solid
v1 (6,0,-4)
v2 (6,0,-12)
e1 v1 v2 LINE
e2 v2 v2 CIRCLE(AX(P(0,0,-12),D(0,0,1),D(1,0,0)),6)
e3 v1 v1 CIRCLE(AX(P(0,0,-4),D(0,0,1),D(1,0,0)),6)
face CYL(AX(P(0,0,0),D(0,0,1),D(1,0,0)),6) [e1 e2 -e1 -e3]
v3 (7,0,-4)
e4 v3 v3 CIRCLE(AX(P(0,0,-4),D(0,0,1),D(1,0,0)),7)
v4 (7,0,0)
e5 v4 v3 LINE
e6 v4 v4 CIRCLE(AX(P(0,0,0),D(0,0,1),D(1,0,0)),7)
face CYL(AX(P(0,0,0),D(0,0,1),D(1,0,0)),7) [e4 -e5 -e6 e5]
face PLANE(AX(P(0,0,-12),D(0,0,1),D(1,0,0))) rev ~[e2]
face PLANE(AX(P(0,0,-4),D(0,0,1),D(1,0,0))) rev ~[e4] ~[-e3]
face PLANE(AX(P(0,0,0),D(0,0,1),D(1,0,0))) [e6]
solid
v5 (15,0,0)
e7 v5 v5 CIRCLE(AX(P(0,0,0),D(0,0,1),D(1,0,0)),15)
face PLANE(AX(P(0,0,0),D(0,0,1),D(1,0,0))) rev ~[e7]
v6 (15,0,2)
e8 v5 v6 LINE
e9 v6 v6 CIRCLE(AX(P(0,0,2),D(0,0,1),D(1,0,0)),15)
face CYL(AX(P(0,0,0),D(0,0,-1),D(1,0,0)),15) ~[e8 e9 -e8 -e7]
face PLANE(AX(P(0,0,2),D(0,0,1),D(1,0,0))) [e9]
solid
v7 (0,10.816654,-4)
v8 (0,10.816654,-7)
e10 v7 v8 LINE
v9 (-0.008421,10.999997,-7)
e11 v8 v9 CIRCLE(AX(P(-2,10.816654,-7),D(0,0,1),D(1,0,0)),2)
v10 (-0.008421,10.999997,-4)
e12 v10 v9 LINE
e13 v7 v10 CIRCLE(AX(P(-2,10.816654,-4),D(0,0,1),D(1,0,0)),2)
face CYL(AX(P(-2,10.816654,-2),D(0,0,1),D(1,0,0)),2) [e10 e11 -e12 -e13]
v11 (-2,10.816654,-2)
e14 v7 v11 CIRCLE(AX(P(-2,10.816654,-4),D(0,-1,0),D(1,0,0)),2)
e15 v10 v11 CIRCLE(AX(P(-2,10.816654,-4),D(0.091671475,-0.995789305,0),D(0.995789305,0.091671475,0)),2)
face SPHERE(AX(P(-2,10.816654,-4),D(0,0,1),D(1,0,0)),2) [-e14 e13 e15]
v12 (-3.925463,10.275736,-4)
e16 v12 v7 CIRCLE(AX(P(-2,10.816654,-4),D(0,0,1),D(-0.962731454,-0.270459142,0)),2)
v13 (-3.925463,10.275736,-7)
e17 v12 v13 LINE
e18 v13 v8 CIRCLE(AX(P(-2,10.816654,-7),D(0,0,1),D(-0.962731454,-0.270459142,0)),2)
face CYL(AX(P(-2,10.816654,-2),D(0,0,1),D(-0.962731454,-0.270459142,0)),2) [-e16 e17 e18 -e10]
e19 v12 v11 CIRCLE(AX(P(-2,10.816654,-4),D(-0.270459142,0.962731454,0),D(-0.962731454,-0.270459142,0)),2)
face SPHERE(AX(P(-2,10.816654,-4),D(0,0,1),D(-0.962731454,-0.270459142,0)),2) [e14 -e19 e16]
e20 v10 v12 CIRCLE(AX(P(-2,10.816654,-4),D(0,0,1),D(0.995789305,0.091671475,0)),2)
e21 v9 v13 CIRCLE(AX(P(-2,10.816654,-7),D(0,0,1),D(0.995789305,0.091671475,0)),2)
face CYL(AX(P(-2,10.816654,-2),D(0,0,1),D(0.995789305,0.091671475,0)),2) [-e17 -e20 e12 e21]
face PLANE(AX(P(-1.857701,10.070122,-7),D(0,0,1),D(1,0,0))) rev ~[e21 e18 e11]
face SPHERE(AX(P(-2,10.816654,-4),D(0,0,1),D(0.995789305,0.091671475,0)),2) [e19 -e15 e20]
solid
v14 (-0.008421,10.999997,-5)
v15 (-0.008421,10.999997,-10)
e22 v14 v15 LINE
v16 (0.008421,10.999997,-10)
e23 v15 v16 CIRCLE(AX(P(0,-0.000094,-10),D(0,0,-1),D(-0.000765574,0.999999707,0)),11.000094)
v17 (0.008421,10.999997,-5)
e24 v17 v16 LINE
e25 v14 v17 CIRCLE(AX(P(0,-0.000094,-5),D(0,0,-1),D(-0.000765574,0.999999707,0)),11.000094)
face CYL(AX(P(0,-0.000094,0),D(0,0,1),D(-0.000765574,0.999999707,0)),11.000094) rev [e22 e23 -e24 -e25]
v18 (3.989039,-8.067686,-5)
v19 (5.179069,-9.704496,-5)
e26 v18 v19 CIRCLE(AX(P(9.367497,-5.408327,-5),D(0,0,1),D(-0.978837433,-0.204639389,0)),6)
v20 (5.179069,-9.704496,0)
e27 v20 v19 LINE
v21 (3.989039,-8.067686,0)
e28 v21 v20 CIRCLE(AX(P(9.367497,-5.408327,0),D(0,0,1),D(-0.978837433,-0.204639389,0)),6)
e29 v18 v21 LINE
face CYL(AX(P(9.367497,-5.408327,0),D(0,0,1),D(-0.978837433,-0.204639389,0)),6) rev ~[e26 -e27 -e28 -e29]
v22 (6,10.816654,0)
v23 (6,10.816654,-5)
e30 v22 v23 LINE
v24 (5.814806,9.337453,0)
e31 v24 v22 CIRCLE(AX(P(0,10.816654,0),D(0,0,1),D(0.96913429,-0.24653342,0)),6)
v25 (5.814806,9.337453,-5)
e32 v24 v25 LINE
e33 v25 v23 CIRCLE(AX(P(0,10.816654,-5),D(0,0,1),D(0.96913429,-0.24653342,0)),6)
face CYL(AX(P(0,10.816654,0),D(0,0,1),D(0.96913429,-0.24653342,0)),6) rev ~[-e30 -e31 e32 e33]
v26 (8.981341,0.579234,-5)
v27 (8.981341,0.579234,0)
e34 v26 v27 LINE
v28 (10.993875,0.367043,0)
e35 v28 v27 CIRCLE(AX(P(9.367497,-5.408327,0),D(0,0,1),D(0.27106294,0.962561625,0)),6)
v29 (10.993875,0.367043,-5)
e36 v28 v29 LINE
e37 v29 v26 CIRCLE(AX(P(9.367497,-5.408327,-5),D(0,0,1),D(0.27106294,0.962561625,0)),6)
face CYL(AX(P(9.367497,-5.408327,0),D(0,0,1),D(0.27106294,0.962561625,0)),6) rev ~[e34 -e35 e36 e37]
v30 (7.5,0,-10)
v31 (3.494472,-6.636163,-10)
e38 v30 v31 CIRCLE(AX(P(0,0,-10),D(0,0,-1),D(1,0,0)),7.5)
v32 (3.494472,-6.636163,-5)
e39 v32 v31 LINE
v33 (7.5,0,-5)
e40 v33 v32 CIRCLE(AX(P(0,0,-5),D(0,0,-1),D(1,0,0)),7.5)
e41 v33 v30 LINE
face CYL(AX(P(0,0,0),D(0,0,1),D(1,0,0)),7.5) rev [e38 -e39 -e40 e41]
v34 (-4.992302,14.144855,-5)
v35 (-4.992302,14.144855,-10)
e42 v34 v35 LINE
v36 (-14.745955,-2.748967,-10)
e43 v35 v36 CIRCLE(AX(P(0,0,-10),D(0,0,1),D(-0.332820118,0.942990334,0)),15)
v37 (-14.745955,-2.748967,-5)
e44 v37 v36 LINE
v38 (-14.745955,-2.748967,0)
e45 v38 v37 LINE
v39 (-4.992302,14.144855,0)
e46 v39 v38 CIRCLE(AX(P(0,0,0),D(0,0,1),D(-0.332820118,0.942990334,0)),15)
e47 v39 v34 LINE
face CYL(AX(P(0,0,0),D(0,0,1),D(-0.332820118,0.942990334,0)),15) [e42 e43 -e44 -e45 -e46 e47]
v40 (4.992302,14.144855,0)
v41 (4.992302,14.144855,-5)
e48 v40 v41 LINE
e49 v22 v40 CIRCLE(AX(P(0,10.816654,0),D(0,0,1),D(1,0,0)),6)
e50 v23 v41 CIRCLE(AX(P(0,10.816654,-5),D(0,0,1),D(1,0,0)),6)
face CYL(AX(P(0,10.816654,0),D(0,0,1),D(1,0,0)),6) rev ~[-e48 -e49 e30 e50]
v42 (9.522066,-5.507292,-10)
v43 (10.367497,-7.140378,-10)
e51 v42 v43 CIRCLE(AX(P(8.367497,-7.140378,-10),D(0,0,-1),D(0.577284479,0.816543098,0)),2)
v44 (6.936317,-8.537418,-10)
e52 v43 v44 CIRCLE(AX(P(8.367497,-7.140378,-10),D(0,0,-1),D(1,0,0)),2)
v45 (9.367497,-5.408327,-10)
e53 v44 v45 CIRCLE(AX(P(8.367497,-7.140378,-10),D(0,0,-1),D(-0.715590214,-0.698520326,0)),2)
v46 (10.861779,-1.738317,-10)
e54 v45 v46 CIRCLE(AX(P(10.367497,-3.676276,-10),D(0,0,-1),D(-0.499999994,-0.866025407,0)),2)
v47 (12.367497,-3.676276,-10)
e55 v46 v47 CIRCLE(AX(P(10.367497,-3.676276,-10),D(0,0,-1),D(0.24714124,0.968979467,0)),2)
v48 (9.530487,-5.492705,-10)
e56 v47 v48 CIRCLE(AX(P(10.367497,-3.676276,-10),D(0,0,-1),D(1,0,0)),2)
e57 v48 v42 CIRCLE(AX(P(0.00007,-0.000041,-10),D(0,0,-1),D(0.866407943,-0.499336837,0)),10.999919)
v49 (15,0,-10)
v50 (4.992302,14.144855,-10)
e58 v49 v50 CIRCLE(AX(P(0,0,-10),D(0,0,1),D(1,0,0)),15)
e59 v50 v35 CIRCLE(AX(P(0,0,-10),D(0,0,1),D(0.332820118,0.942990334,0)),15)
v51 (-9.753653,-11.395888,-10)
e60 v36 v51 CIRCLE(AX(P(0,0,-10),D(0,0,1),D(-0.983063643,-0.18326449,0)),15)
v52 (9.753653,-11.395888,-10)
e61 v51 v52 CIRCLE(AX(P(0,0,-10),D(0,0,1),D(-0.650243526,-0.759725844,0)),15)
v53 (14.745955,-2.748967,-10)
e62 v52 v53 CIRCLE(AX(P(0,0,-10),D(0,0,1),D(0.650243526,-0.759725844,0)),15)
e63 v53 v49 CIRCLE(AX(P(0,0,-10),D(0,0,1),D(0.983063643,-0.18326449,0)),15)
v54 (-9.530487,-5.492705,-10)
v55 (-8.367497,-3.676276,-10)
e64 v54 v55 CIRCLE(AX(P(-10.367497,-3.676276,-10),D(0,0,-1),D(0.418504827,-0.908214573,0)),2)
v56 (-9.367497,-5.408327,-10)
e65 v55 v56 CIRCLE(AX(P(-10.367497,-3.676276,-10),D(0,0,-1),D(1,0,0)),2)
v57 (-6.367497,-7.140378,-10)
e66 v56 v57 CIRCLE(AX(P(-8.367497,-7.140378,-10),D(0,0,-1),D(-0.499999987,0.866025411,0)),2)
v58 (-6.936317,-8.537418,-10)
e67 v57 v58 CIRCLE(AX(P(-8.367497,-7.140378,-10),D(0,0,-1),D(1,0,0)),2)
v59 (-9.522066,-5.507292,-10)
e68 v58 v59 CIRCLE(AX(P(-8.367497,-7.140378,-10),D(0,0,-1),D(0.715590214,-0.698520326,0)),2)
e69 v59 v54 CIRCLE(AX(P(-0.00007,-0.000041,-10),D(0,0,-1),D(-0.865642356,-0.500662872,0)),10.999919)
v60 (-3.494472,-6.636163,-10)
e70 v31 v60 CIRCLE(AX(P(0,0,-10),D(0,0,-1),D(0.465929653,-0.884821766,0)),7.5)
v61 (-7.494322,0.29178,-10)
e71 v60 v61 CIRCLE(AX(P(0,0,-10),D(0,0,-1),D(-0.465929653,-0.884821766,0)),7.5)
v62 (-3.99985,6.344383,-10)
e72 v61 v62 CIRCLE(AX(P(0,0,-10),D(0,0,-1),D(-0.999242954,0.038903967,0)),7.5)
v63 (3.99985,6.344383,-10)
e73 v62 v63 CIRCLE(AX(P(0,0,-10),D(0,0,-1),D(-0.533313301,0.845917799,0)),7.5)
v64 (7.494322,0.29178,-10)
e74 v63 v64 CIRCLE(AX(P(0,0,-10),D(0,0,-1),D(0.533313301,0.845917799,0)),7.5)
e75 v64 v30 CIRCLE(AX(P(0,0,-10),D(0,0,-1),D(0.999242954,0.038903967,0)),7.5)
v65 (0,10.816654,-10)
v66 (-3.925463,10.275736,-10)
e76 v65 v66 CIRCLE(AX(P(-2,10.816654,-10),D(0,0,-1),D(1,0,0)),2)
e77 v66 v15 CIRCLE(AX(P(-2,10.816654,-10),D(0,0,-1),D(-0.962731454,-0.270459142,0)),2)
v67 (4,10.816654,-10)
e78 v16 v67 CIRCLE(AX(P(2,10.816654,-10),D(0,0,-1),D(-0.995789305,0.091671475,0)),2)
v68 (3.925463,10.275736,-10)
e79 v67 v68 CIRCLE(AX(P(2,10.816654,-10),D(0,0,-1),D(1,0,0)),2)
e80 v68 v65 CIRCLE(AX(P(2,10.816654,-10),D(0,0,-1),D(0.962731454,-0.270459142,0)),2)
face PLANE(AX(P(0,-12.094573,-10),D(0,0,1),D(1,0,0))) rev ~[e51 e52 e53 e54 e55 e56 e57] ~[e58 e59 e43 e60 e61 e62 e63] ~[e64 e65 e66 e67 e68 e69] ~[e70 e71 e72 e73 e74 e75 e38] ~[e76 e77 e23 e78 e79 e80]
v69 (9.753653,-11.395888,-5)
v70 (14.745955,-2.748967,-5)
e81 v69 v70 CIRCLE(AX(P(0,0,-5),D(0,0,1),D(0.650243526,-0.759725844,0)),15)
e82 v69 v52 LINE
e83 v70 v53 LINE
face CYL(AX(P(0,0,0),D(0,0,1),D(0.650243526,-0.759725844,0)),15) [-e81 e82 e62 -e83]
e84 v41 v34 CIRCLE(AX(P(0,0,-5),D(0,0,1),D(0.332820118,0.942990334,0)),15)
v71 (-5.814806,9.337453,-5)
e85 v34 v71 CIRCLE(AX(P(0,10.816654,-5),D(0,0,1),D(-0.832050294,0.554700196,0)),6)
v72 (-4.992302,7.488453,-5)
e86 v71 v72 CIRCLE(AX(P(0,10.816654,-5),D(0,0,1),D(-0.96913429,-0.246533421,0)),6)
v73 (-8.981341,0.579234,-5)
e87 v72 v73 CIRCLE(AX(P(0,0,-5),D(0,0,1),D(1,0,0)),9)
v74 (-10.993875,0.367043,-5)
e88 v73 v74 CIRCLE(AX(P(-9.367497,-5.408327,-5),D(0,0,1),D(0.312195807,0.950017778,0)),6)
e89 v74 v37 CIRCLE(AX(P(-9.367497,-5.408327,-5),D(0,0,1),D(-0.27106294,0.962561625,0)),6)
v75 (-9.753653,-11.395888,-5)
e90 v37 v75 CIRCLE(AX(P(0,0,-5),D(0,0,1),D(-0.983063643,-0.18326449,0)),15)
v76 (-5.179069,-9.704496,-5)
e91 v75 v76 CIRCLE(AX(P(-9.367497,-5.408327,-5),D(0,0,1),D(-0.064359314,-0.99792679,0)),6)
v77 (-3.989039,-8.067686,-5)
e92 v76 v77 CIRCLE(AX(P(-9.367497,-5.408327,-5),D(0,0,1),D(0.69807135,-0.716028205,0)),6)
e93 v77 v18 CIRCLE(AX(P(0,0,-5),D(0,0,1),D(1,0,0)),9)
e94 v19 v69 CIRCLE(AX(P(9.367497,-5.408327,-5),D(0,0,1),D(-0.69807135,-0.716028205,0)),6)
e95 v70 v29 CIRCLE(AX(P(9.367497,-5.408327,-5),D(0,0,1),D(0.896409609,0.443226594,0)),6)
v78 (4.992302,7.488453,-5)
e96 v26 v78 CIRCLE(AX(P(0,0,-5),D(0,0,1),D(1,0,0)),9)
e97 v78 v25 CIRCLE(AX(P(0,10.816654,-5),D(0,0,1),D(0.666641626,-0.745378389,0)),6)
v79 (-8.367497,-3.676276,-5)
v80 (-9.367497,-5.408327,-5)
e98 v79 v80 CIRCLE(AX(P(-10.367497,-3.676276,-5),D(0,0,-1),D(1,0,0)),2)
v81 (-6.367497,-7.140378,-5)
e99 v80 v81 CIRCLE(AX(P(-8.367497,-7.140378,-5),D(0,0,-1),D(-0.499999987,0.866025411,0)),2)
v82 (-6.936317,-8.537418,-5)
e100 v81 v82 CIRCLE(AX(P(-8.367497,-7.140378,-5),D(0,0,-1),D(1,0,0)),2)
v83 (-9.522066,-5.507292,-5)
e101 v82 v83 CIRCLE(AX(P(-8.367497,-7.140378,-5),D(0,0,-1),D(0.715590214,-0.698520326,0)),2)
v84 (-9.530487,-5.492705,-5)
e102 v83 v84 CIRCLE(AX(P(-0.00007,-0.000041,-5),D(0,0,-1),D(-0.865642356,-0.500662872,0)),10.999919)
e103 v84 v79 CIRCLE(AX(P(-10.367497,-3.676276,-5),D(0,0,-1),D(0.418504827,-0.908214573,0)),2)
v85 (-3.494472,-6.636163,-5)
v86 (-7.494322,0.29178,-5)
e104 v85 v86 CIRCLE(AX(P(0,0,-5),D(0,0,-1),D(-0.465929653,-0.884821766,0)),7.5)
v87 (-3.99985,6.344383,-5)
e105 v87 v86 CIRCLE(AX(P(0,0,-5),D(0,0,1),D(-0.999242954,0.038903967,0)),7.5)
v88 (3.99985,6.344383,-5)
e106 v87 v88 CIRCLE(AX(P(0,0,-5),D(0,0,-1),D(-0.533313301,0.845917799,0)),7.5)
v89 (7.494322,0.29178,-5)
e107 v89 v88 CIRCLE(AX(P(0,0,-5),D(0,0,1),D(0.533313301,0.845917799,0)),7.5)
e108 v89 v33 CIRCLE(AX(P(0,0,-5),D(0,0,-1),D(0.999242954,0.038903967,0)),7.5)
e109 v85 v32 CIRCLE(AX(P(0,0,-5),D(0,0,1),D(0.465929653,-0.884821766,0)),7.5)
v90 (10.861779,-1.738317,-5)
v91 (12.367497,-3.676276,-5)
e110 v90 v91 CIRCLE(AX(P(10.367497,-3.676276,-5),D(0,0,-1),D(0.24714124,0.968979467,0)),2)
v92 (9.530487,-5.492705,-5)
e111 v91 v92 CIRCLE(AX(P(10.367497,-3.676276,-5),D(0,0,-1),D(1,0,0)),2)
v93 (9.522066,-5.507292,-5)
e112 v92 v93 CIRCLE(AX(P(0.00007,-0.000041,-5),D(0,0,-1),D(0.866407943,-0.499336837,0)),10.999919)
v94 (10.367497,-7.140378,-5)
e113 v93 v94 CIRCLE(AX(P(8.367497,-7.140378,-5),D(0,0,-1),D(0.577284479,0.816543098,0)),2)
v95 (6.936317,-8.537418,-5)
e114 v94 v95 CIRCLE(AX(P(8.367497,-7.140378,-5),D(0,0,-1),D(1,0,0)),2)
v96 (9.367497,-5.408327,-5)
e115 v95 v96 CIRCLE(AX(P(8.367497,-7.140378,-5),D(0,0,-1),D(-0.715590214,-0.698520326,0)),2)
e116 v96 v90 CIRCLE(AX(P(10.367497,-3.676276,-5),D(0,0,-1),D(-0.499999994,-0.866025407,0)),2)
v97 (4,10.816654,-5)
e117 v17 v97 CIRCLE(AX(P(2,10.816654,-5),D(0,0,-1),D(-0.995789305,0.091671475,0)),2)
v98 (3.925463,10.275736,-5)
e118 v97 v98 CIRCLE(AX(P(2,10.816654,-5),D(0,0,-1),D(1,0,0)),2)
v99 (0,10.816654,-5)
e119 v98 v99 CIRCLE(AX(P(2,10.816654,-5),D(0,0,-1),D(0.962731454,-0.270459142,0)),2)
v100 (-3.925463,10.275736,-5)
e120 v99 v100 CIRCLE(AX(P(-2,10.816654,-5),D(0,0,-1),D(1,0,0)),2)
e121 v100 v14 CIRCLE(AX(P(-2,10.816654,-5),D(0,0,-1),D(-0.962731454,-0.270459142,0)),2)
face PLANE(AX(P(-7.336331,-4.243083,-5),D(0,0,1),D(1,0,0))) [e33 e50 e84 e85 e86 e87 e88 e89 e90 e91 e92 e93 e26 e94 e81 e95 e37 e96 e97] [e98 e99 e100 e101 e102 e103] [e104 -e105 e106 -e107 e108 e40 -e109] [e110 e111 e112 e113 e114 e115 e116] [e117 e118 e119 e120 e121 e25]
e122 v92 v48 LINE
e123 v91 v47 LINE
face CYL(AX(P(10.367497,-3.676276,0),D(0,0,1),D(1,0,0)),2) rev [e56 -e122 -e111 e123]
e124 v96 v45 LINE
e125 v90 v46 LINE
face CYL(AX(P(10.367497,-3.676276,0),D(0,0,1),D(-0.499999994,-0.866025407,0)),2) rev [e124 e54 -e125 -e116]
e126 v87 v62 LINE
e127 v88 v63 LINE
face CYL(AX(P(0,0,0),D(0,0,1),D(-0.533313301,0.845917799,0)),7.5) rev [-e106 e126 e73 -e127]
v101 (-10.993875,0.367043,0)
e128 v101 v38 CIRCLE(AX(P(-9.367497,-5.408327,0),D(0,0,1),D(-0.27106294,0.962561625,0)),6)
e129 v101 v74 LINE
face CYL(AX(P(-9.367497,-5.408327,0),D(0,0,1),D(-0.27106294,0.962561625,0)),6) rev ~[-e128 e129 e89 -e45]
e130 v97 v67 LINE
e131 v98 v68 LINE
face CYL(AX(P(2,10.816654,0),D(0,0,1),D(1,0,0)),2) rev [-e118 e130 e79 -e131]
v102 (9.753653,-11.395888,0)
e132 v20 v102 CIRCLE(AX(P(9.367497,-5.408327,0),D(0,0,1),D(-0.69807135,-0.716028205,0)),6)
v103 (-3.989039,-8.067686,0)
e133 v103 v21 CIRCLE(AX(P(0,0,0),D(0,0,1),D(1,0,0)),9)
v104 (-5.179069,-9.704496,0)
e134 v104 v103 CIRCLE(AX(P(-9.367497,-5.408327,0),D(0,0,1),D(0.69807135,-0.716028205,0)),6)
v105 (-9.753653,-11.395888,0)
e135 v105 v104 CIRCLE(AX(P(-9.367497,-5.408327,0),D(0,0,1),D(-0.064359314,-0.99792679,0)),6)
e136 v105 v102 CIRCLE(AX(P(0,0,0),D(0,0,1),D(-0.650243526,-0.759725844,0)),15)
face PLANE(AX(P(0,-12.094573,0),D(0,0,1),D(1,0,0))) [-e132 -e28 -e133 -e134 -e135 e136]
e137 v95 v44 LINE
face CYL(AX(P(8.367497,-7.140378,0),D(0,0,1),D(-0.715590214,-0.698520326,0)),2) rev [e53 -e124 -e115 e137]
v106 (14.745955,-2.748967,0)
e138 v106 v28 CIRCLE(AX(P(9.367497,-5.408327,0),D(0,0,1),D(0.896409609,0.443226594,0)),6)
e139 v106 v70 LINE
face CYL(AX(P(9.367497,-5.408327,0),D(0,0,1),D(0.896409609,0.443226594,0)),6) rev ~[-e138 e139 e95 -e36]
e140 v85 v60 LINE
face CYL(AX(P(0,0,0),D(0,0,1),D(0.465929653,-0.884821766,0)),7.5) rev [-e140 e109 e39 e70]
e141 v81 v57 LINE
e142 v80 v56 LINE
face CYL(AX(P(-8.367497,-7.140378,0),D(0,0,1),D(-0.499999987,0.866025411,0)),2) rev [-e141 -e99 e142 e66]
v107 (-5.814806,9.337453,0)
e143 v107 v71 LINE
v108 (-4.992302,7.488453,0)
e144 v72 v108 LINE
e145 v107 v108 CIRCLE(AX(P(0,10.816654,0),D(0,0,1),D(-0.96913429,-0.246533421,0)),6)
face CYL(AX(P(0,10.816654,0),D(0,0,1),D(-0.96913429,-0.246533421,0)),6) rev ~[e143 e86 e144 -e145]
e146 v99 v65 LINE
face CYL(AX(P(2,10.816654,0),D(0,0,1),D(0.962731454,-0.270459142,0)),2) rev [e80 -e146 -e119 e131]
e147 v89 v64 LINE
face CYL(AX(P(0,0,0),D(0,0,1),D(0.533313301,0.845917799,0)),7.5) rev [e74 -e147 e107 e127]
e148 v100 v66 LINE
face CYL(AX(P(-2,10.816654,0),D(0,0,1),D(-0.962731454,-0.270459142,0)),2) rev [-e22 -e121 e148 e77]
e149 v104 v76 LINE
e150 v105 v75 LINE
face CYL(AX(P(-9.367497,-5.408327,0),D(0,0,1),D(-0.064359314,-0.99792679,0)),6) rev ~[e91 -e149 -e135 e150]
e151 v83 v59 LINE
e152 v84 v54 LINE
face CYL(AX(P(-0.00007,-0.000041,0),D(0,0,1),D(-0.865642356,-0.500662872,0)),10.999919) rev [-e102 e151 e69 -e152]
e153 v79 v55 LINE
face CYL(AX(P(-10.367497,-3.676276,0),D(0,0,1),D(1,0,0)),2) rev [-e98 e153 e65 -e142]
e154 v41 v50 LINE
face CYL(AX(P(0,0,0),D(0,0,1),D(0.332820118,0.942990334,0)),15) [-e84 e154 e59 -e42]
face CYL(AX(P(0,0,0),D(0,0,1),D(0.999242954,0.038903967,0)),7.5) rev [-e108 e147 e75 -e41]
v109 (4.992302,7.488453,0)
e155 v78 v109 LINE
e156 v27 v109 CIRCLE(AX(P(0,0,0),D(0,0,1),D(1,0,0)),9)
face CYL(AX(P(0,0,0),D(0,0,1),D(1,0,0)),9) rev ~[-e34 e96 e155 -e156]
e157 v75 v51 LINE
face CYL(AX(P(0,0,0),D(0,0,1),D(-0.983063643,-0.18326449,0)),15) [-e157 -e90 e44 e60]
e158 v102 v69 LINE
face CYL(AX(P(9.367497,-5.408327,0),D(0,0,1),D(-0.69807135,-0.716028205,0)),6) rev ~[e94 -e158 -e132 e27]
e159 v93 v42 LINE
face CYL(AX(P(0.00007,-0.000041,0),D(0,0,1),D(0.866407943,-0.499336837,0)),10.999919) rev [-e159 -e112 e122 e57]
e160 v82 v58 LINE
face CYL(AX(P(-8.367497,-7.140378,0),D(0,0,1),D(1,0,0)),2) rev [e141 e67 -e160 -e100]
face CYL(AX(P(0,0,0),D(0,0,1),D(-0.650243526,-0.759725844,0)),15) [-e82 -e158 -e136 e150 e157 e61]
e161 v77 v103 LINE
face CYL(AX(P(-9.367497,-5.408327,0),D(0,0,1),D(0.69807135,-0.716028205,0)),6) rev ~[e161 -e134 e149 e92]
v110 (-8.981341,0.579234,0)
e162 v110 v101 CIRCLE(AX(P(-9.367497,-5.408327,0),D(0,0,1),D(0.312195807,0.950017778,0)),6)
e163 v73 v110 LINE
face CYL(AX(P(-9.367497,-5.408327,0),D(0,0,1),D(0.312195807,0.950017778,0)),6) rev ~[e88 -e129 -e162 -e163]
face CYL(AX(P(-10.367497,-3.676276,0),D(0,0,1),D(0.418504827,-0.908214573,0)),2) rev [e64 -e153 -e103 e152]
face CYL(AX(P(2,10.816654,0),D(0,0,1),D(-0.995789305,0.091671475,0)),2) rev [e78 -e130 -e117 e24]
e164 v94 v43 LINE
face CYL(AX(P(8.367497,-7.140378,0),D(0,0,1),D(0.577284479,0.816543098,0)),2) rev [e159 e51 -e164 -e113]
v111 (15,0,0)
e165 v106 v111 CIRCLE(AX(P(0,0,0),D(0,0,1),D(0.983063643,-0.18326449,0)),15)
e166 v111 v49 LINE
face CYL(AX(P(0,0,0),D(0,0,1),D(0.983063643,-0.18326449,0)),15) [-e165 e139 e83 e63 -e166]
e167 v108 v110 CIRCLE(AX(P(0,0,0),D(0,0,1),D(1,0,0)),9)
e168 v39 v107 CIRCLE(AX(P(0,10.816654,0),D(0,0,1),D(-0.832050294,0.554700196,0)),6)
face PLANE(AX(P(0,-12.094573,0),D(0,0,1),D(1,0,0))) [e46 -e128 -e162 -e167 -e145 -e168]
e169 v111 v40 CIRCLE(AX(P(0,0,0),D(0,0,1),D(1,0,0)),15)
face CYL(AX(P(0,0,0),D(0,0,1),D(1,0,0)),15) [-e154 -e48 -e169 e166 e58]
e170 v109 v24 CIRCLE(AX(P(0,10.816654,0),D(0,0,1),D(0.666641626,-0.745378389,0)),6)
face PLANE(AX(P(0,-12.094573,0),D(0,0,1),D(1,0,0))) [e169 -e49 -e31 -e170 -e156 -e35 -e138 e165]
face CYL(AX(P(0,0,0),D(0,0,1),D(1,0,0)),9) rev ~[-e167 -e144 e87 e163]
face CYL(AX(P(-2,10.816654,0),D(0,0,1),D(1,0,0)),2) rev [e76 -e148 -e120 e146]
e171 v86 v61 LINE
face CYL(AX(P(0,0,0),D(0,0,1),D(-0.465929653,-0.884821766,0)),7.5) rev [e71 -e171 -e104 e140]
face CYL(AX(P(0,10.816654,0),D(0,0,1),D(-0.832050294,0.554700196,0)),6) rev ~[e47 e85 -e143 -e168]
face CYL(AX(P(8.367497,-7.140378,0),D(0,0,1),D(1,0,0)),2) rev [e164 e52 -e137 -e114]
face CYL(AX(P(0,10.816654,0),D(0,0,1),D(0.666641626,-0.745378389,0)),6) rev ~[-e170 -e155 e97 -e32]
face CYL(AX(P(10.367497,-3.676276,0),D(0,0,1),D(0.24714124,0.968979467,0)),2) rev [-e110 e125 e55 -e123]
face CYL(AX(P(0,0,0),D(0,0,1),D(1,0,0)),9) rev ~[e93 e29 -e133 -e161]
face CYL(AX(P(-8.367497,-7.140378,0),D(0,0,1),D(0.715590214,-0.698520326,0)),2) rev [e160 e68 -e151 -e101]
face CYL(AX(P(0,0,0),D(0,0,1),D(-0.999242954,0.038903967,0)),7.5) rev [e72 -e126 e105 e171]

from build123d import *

# Parameters (mm, degrees)
F1_DEPTH = 10
F2_DEPTH = 5
F3_R     = 15
F4_DEPTH = 2
F5_R     = 6
F6_DEPTH = 12
F5_R_2   = 7
F7_DEPTH = 4
F5_R_3   = 9
F8_DEPTH = 5
F9_DEPTH = 5
F10_R    = 2


with BuildPart() as f1:
    # F0 (on Top) → F1 (new body)
    with BuildSketch(Plane.XY):
        with BuildLine():
            ThreePointArc((-9.7536528831, -11.3958876546), (0, -15), (9.7536528831, -11.3958876546))
            ThreePointArc((9.7536528831, -11.3958876546), (7.2867471777, -11.0359800819), (5.1790688964, -9.7044961418))
            ThreePointArc((5.1790688964, -9.7044961418), (0, -11), (-5.1790688964, -9.7044961418))
            ThreePointArc((-5.1790688964, -9.7044961418), (-7.2867471777, -11.0359800819), (-9.7536528831, -11.3958876546))
        make_face()
        with BuildLine():
            ThreePointArc((-10.9938746379, 0.3670428387), (-13.2008126954, -0.7925181259), (-14.7459546491, -2.7489673491))
            ThreePointArc((-14.7459546491, -2.7489673491), (-12.9903810568, -7.5), (-9.7536528831, -11.3958876546))
            ThreePointArc((-9.7536528831, -11.3958876546), (-7.2867471777, -11.0359800819), (-5.1790688964, -9.7044961418))
            ThreePointArc((-5.1790688964, -9.7044961418), (-6.0857340456, -9.1631785493), (-6.936316569, -8.5374183718))
            ThreePointArc((-6.936316569, -8.5374183718), (-9.8888600881, -8.4386282154), (-9.5220659552, -5.5072915252))
            ThreePointArc((-9.5220659552, -5.5072915252), (-9.5262794416, -5.5), (-9.5304873445, -5.4927052511))
            ThreePointArc((-9.5304873445, -5.4927052511), (-12.2524964517, -4.344689943), (-10.8617794772, -1.7383171715))
            ThreePointArc((-10.8617794772, -1.7383171715), (-10.9784124259, -0.6888110095), (-10.9938746379, 0.3670428387))
        make_face()
        with BuildLine():
            ThreePointArc((9.7536528831, -11.3958876546), (12.9903810568, -7.5), (14.7459546491, -2.7489673491))
            ThreePointArc((14.7459546491, -2.7489673491), (13.2008126954, -0.7925181259), (10.9938746379, 0.3670428387))
            ThreePointArc((10.9938746379, 0.3670428387), (10.9984685529, 0.1835469732), (11, 0))
            ThreePointArc((11, 0), (10.9653904228, -0.8719018726), (10.8617794772, -1.7383171715))
            ThreePointArc((10.8617794772, -1.7383171715), (11.946826754, -2.4491992864), (12.3674969976, -3.6762761056))
            ThreePointArc((12.3674969976, -3.6762761056), (11.4459172992, -5.3606186044), (9.5304873445, -5.4927052511))
            ThreePointArc((9.5304873445, -5.4927052511), (9.5262794416, -5.5), (9.5220659552, -5.5072915252))
            ThreePointArc((9.5220659552, -5.5072915252), (10.1436076241, -6.220904479), (10.3674969976, -7.1403777208))
            ThreePointArc((10.3674969976, -7.1403777208), (9.121698278, -8.9927222969), (6.936316569, -8.5374183718))
            ThreePointArc((6.936316569, -8.5374183718), (6.0857340456, -9.1631785493), (5.1790688964, -9.7044961418))
            ThreePointArc((5.1790688964, -9.7044961418), (7.2867471777, -11.0359800819), (9.7536528831, -11.3958876546))
        make_face()
        with BuildLine():
            ThreePointArc((14.7459546491, -2.7489673491), (14.9363536336, -1.3803405854), (15, 0))
            ThreePointArc((15, 0), (12.2450913939, 8.6635868296), (4.992301766, 14.1448550037))
            ThreePointArc((4.992301766, 14.1448550037), (5.7425521589, 12.5553587185), (6, 10.8166538264))
            ThreePointArc((6, 10.8166538264), (5.9535214138, 10.0712795745), (5.8148057416, 9.3374533031))
            ThreePointArc((5.8148057416, 9.3374533031), (9.5262794416, 5.5), (10.9938746379, 0.3670428387))
            ThreePointArc((10.9938746379, 0.3670428387), (13.2008126954, -0.7925181259), (14.7459546491, -2.7489673491))
        make_face()
        with BuildLine():
            ThreePointArc((6, 10.8166538264), (5.7425521589, 12.5553587185), (4.992301766, 14.1448550037))
            ThreePointArc((4.992301766, 14.1448550037), (0, 15), (-4.992301766, 14.1448550037))
            ThreePointArc((-4.992301766, 14.1448550037), (-5.9140655177, 11.8284982078), (-5.8148057416, 9.3374533031))
            ThreePointArc((-5.8148057416, 9.3374533031), (-4.8926783803, 9.8519895588), (-3.9254629082, 10.2757355433))
            ThreePointArc((-3.9254629082, 10.2757355433), (-2.3636363636, 12.7833181585), (-0.0084213893, 10.9999967764))
            ThreePointArc((-0.0084213893, 10.9999967764), (0, 11), (0.0084213893, 10.9999967764))
            ThreePointArc((0.0084213893, 10.9999967764), (2.0917681278, 12.8145473698), (4, 10.8166538264))
            ThreePointArc((4, 10.8166538264), (3.9812780997, 10.5436390067), (3.9254629082, 10.2757355433))
            ThreePointArc((3.9254629082, 10.2757355433), (4.8926783803, 9.8519895588), (5.8148057416, 9.3374533031))
            ThreePointArc((5.8148057416, 9.3374533031), (5.9535214138, 10.0712795745), (6, 10.8166538264))
        make_face()
        with BuildLine():
            ThreePointArc((-5.8148057416, 9.3374533031), (-5.9140655177, 11.8284982078), (-4.992301766, 14.1448550037))
            ThreePointArc((-4.992301766, 14.1448550037), (-12.9903810568, 7.5), (-14.7459546491, -2.7489673491))
            ThreePointArc((-14.7459546491, -2.7489673491), (-13.2008126954, -0.7925181259), (-10.9938746379, 0.3670428387))
            ThreePointArc((-10.9938746379, 0.3670428387), (-9.5262794416, 5.5), (-5.8148057416, 9.3374533031))
        make_face()
        with BuildLine():
            ThreePointArc((-5.1790688964, -9.7044961418), (0, -11), (5.1790688964, -9.7044961418))
            ThreePointArc((5.1790688964, -9.7044961418), (4.1080412943, -8.2959082031), (3.494472399, -6.6361632479))
            ThreePointArc((3.494472399, -6.6361632479), (0, -7.5), (-3.494472399, -6.6361632479))
            ThreePointArc((-3.494472399, -6.6361632479), (-4.1080412943, -8.2959082031), (-5.1790688964, -9.7044961418))
        make_face()
        with BuildLine():
            ThreePointArc((7.4943221558, 0.2917797535), (9.2384878985, 0.5902859808), (10.9938746379, 0.3670428387))
            ThreePointArc((10.9938746379, 0.3670428387), (9.5262794416, 5.5), (5.8148057416, 9.3374533031))
            ThreePointArc((5.8148057416, 9.3374533031), (5.1304466041, 7.7056222222), (3.9998497568, 6.3443834943))
            ThreePointArc((3.9998497568, 6.3443834943), (6.4951905284, 3.75), (7.4943221558, 0.2917797535))
        make_face()
        with BuildLine():
            ThreePointArc((-3.9998497568, 6.3443834943), (-5.1304466041, 7.7056222222), (-5.8148057416, 9.3374533031))
            ThreePointArc((-5.8148057416, 9.3374533031), (-9.5262794416, 5.5), (-10.9938746379, 0.3670428387))
            ThreePointArc((-10.9938746379, 0.3670428387), (-9.2384878985, 0.5902859808), (-7.4943221558, 0.2917797535))
            ThreePointArc((-7.4943221558, 0.2917797535), (-6.4951905284, 3.75), (-3.9998497568, 6.3443834943))
        make_face()
        with BuildLine():
            ThreePointArc((-3.9254629082, 10.2757355433), (-4.8926783803, 9.8519895588), (-5.8148057416, 9.3374533031))
            ThreePointArc((-5.8148057416, 9.3374533031), (-5.1304466041, 7.7056222222), (-3.9998497568, 6.3443834943))
            ThreePointArc((-3.9998497568, 6.3443834943), (0, 7.5), (3.9998497568, 6.3443834943))
            ThreePointArc((3.9998497568, 6.3443834943), (5.1304466041, 7.7056222222), (5.8148057416, 9.3374533031))
            ThreePointArc((5.8148057416, 9.3374533031), (4.8926783803, 9.8519895588), (3.9254629082, 10.2757355433))
            ThreePointArc((3.9254629082, 10.2757355433), (1.7269851803, 8.8353757267), (0, 10.8166538264))
            ThreePointArc((0, 10.8166538264), (-1.7269851803, 8.8353757267), (-3.9254629082, 10.2757355433))
        make_face()
        with BuildLine():
            ThreePointArc((11, 0), (10.9984685529, 0.1835469732), (10.9938746379, 0.3670428387))
            ThreePointArc((10.9938746379, 0.3670428387), (9.2384878985, 0.5902859808), (7.4943221558, 0.2917797535))
            ThreePointArc((7.4943221558, 0.2917797535), (7.4985804046, 0.1459174959), (7.5, 0))
            ThreePointArc((7.5, 0), (6.4210023747, -3.8756584606), (3.494472399, -6.6361632479))
            ThreePointArc((3.494472399, -6.6361632479), (4.1080412943, -8.2959082031), (5.1790688964, -9.7044961418))
            ThreePointArc((5.1790688964, -9.7044961418), (6.0857340456, -9.1631785493), (6.936316569, -8.5374183718))
            ThreePointArc((6.936316569, -8.5374183718), (6.7881672455, -5.9133008959), (9.3674970098, -5.4083269203))
            ThreePointArc((9.3674970098, -5.4083269203), (8.5151524188, -2.9220748318), (10.8617794772, -1.7383171715))
            ThreePointArc((10.8617794772, -1.7383171715), (10.9653904228, -0.8719018726), (11, 0))
        make_face()
        with BuildLine():
            ThreePointArc((-7.4943221558, 0.2917797535), (-9.2384878985, 0.5902859808), (-10.9938746379, 0.3670428387))
            ThreePointArc((-10.9938746379, 0.3670428387), (-10.9784124259, -0.6888110095), (-10.8617794772, -1.7383171715))
            ThreePointArc((-10.8617794772, -1.7383171715), (-9.1404201783, -2.0969463492), (-8.3674969976, -3.6762761056))
            ThreePointArc((-8.3674969976, -3.6762761056), (-8.6354461825, -4.6762760926), (-9.3674969715, -5.4083268981))
            ThreePointArc((-9.3674969715, -5.4083268981), (-7.3674969846, -5.4083269207), (-6.3674969976, -7.1403777208))
            ThreePointArc((-6.3674969976, -7.1403777208), (-6.5151524215, -7.8945790012), (-6.936316569, -8.5374183718))
            ThreePointArc((-6.936316569, -8.5374183718), (-6.0857340456, -9.1631785493), (-5.1790688964, -9.7044961418))
            ThreePointArc((-5.1790688964, -9.7044961418), (-4.1080412943, -8.2959082031), (-3.494472399, -6.6361632479))
            ThreePointArc((-3.494472399, -6.6361632479), (-6.4951905284, -3.75), (-7.4943221558, 0.2917797535))
        make_face()
    extrude(amount=-F1_DEPTH)

    # F0 (on Top) → F2 (cut)
    with BuildSketch(Plane.XY):
        with BuildLine():
            ThreePointArc((-3.9254629082, 10.2757355433), (-4.8926783803, 9.8519895588), (-5.8148057416, 9.3374533031))
            ThreePointArc((-5.8148057416, 9.3374533031), (-5.1304466041, 7.7056222222), (-3.9998497568, 6.3443834943))
            ThreePointArc((-3.9998497568, 6.3443834943), (0, 7.5), (3.9998497568, 6.3443834943))
            ThreePointArc((3.9998497568, 6.3443834943), (5.1304466041, 7.7056222222), (5.8148057416, 9.3374533031))
            ThreePointArc((5.8148057416, 9.3374533031), (4.8926783803, 9.8519895588), (3.9254629082, 10.2757355433))
            ThreePointArc((3.9254629082, 10.2757355433), (1.7269851803, 8.8353757267), (0, 10.8166538264))
            ThreePointArc((0, 10.8166538264), (-1.7269851803, 8.8353757267), (-3.9254629082, 10.2757355433))
        make_face()
        with BuildLine():
            ThreePointArc((6, 10.8166538264), (5.7425521589, 12.5553587185), (4.992301766, 14.1448550037))
            ThreePointArc((4.992301766, 14.1448550037), (0, 15), (-4.992301766, 14.1448550037))
            ThreePointArc((-4.992301766, 14.1448550037), (-5.9140655177, 11.8284982078), (-5.8148057416, 9.3374533031))
            ThreePointArc((-5.8148057416, 9.3374533031), (-4.8926783803, 9.8519895588), (-3.9254629082, 10.2757355433))
            ThreePointArc((-3.9254629082, 10.2757355433), (-2.3636363636, 12.7833181585), (-0.0084213893, 10.9999967764))
            ThreePointArc((-0.0084213893, 10.9999967764), (0, 11), (0.0084213893, 10.9999967764))
            ThreePointArc((0.0084213893, 10.9999967764), (2.0917681278, 12.8145473698), (4, 10.8166538264))
            ThreePointArc((4, 10.8166538264), (3.9812780997, 10.5436390067), (3.9254629082, 10.2757355433))
            ThreePointArc((3.9254629082, 10.2757355433), (4.8926783803, 9.8519895588), (5.8148057416, 9.3374533031))
            ThreePointArc((5.8148057416, 9.3374533031), (5.9535214138, 10.0712795745), (6, 10.8166538264))
        make_face()
        with BuildLine():
            ThreePointArc((-7.4943221558, 0.2917797535), (-9.2384878985, 0.5902859808), (-10.9938746379, 0.3670428387))
            ThreePointArc((-10.9938746379, 0.3670428387), (-10.9784124259, -0.6888110095), (-10.8617794772, -1.7383171715))
            ThreePointArc((-10.8617794772, -1.7383171715), (-9.1404201783, -2.0969463492), (-8.3674969976, -3.6762761056))
            ThreePointArc((-8.3674969976, -3.6762761056), (-8.6354461825, -4.6762760926), (-9.3674969715, -5.4083268981))
            ThreePointArc((-9.3674969715, -5.4083268981), (-7.3674969846, -5.4083269207), (-6.3674969976, -7.1403777208))
            ThreePointArc((-6.3674969976, -7.1403777208), (-6.5151524215, -7.8945790012), (-6.936316569, -8.5374183718))
            ThreePointArc((-6.936316569, -8.5374183718), (-6.0857340456, -9.1631785493), (-5.1790688964, -9.7044961418))
            ThreePointArc((-5.1790688964, -9.7044961418), (-4.1080412943, -8.2959082031), (-3.494472399, -6.6361632479))
            ThreePointArc((-3.494472399, -6.6361632479), (-6.4951905284, -3.75), (-7.4943221558, 0.2917797535))
        make_face()
        with BuildLine():
            ThreePointArc((-10.9938746379, 0.3670428387), (-13.2008126954, -0.7925181259), (-14.7459546491, -2.7489673491))
            ThreePointArc((-14.7459546491, -2.7489673491), (-12.9903810568, -7.5), (-9.7536528831, -11.3958876546))
            ThreePointArc((-9.7536528831, -11.3958876546), (-7.2867471777, -11.0359800819), (-5.1790688964, -9.7044961418))
            ThreePointArc((-5.1790688964, -9.7044961418), (-6.0857340456, -9.1631785493), (-6.936316569, -8.5374183718))
            ThreePointArc((-6.936316569, -8.5374183718), (-9.8888600881, -8.4386282154), (-9.5220659552, -5.5072915252))
            ThreePointArc((-9.5220659552, -5.5072915252), (-9.5262794416, -5.5), (-9.5304873445, -5.4927052511))
            ThreePointArc((-9.5304873445, -5.4927052511), (-12.2524964517, -4.344689943), (-10.8617794772, -1.7383171715))
            ThreePointArc((-10.8617794772, -1.7383171715), (-10.9784124259, -0.6888110095), (-10.9938746379, 0.3670428387))
        make_face()
        with BuildLine():
            ThreePointArc((11, 0), (10.9984685529, 0.1835469732), (10.9938746379, 0.3670428387))
            ThreePointArc((10.9938746379, 0.3670428387), (9.2384878985, 0.5902859808), (7.4943221558, 0.2917797535))
            ThreePointArc((7.4943221558, 0.2917797535), (7.4985804046, 0.1459174959), (7.5, 0))
            ThreePointArc((7.5, 0), (6.4210023747, -3.8756584606), (3.494472399, -6.6361632479))
            ThreePointArc((3.494472399, -6.6361632479), (4.1080412943, -8.2959082031), (5.1790688964, -9.7044961418))
            ThreePointArc((5.1790688964, -9.7044961418), (6.0857340456, -9.1631785493), (6.936316569, -8.5374183718))
            ThreePointArc((6.936316569, -8.5374183718), (6.7881672455, -5.9133008959), (9.3674970098, -5.4083269203))
            ThreePointArc((9.3674970098, -5.4083269203), (8.5151524188, -2.9220748318), (10.8617794772, -1.7383171715))
            ThreePointArc((10.8617794772, -1.7383171715), (10.9653904228, -0.8719018726), (11, 0))
        make_face()
        with BuildLine():
            ThreePointArc((9.7536528831, -11.3958876546), (12.9903810568, -7.5), (14.7459546491, -2.7489673491))
            ThreePointArc((14.7459546491, -2.7489673491), (13.2008126954, -0.7925181259), (10.9938746379, 0.3670428387))
            ThreePointArc((10.9938746379, 0.3670428387), (10.9984685529, 0.1835469732), (11, 0))
            ThreePointArc((11, 0), (10.9653904228, -0.8719018726), (10.8617794772, -1.7383171715))
            ThreePointArc((10.8617794772, -1.7383171715), (11.946826754, -2.4491992864), (12.3674969976, -3.6762761056))
            ThreePointArc((12.3674969976, -3.6762761056), (11.4459172992, -5.3606186044), (9.5304873445, -5.4927052511))
            ThreePointArc((9.5304873445, -5.4927052511), (9.5262794416, -5.5), (9.5220659552, -5.5072915252))
            ThreePointArc((9.5220659552, -5.5072915252), (10.1436076241, -6.220904479), (10.3674969976, -7.1403777208))
            ThreePointArc((10.3674969976, -7.1403777208), (9.121698278, -8.9927222969), (6.936316569, -8.5374183718))
            ThreePointArc((6.936316569, -8.5374183718), (6.0857340456, -9.1631785493), (5.1790688964, -9.7044961418))
            ThreePointArc((5.1790688964, -9.7044961418), (7.2867471777, -11.0359800819), (9.7536528831, -11.3958876546))
        make_face()
    extrude(amount=-F2_DEPTH, mode=Mode.SUBTRACT)

    # F5 (on Top) → F8 (cut)
    with BuildSketch(Plane.XY):
        Circle(F5_R_3)
        Circle(F5_R_2, mode=Mode.SUBTRACT)
    extrude(amount=-F8_DEPTH, mode=Mode.SUBTRACT)


with BuildPart() as f4:
    # F3 (on face) → F4 (new body)
    with BuildSketch(Plane.XY):
        Circle(F3_R)
    extrude(amount=F4_DEPTH)


with BuildPart() as f6:
    # F5 (on Top) → F6 (new body)
    with BuildSketch(Plane.XY):
        Circle(F5_R)
    extrude(amount=-F6_DEPTH)

    # F5 (on Top) → F7 (join)
    with BuildSketch(Plane.XY):
        Circle(F5_R_2)
        Circle(F5_R, mode=Mode.SUBTRACT)
        Circle(F5_R)
    extrude(amount=-F7_DEPTH)


with BuildPart() as f9:
    # F0 (on Top) → F9 (new body)
    with BuildSketch(Plane.XY):
        with BuildLine():
            ThreePointArc((-0.0084213893, 10.9999967764), (-2, 10.8166538264), (-3.9254629082, 10.2757355433))
            ThreePointArc((-3.9254629082, 10.2757355433), (-1.7269851803, 8.8353757267), (0, 10.8166538264))
            ThreePointArc((0, 10.8166538264), (-0.0021064566, 10.9084219542), (-0.0084213893, 10.9999967764))
        make_face()
        with BuildLine():
            ThreePointArc((-0.0084213893, 10.9999967764), (-2.3636363636, 12.7833181585), (-3.9254629082, 10.2757355433))
            ThreePointArc((-3.9254629082, 10.2757355433), (-2, 10.8166538264), (-0.0084213893, 10.9999967764))
        make_face()
    extrude(amount=-F9_DEPTH)

    # F10
    f10_edges = [f9.edges().sort_by_distance(p)[0] for p in [
        (-4, 10.816654, 0),
    ]]
    fillet(f10_edges, radius=F10_R)


with BuildPart() as f9_1:
    # F11: moved
    add(f9.part.moved(Location((0, 0, -2))))


solid = Compound([f1.part, f4.part, f6.part, f9_1.part])
